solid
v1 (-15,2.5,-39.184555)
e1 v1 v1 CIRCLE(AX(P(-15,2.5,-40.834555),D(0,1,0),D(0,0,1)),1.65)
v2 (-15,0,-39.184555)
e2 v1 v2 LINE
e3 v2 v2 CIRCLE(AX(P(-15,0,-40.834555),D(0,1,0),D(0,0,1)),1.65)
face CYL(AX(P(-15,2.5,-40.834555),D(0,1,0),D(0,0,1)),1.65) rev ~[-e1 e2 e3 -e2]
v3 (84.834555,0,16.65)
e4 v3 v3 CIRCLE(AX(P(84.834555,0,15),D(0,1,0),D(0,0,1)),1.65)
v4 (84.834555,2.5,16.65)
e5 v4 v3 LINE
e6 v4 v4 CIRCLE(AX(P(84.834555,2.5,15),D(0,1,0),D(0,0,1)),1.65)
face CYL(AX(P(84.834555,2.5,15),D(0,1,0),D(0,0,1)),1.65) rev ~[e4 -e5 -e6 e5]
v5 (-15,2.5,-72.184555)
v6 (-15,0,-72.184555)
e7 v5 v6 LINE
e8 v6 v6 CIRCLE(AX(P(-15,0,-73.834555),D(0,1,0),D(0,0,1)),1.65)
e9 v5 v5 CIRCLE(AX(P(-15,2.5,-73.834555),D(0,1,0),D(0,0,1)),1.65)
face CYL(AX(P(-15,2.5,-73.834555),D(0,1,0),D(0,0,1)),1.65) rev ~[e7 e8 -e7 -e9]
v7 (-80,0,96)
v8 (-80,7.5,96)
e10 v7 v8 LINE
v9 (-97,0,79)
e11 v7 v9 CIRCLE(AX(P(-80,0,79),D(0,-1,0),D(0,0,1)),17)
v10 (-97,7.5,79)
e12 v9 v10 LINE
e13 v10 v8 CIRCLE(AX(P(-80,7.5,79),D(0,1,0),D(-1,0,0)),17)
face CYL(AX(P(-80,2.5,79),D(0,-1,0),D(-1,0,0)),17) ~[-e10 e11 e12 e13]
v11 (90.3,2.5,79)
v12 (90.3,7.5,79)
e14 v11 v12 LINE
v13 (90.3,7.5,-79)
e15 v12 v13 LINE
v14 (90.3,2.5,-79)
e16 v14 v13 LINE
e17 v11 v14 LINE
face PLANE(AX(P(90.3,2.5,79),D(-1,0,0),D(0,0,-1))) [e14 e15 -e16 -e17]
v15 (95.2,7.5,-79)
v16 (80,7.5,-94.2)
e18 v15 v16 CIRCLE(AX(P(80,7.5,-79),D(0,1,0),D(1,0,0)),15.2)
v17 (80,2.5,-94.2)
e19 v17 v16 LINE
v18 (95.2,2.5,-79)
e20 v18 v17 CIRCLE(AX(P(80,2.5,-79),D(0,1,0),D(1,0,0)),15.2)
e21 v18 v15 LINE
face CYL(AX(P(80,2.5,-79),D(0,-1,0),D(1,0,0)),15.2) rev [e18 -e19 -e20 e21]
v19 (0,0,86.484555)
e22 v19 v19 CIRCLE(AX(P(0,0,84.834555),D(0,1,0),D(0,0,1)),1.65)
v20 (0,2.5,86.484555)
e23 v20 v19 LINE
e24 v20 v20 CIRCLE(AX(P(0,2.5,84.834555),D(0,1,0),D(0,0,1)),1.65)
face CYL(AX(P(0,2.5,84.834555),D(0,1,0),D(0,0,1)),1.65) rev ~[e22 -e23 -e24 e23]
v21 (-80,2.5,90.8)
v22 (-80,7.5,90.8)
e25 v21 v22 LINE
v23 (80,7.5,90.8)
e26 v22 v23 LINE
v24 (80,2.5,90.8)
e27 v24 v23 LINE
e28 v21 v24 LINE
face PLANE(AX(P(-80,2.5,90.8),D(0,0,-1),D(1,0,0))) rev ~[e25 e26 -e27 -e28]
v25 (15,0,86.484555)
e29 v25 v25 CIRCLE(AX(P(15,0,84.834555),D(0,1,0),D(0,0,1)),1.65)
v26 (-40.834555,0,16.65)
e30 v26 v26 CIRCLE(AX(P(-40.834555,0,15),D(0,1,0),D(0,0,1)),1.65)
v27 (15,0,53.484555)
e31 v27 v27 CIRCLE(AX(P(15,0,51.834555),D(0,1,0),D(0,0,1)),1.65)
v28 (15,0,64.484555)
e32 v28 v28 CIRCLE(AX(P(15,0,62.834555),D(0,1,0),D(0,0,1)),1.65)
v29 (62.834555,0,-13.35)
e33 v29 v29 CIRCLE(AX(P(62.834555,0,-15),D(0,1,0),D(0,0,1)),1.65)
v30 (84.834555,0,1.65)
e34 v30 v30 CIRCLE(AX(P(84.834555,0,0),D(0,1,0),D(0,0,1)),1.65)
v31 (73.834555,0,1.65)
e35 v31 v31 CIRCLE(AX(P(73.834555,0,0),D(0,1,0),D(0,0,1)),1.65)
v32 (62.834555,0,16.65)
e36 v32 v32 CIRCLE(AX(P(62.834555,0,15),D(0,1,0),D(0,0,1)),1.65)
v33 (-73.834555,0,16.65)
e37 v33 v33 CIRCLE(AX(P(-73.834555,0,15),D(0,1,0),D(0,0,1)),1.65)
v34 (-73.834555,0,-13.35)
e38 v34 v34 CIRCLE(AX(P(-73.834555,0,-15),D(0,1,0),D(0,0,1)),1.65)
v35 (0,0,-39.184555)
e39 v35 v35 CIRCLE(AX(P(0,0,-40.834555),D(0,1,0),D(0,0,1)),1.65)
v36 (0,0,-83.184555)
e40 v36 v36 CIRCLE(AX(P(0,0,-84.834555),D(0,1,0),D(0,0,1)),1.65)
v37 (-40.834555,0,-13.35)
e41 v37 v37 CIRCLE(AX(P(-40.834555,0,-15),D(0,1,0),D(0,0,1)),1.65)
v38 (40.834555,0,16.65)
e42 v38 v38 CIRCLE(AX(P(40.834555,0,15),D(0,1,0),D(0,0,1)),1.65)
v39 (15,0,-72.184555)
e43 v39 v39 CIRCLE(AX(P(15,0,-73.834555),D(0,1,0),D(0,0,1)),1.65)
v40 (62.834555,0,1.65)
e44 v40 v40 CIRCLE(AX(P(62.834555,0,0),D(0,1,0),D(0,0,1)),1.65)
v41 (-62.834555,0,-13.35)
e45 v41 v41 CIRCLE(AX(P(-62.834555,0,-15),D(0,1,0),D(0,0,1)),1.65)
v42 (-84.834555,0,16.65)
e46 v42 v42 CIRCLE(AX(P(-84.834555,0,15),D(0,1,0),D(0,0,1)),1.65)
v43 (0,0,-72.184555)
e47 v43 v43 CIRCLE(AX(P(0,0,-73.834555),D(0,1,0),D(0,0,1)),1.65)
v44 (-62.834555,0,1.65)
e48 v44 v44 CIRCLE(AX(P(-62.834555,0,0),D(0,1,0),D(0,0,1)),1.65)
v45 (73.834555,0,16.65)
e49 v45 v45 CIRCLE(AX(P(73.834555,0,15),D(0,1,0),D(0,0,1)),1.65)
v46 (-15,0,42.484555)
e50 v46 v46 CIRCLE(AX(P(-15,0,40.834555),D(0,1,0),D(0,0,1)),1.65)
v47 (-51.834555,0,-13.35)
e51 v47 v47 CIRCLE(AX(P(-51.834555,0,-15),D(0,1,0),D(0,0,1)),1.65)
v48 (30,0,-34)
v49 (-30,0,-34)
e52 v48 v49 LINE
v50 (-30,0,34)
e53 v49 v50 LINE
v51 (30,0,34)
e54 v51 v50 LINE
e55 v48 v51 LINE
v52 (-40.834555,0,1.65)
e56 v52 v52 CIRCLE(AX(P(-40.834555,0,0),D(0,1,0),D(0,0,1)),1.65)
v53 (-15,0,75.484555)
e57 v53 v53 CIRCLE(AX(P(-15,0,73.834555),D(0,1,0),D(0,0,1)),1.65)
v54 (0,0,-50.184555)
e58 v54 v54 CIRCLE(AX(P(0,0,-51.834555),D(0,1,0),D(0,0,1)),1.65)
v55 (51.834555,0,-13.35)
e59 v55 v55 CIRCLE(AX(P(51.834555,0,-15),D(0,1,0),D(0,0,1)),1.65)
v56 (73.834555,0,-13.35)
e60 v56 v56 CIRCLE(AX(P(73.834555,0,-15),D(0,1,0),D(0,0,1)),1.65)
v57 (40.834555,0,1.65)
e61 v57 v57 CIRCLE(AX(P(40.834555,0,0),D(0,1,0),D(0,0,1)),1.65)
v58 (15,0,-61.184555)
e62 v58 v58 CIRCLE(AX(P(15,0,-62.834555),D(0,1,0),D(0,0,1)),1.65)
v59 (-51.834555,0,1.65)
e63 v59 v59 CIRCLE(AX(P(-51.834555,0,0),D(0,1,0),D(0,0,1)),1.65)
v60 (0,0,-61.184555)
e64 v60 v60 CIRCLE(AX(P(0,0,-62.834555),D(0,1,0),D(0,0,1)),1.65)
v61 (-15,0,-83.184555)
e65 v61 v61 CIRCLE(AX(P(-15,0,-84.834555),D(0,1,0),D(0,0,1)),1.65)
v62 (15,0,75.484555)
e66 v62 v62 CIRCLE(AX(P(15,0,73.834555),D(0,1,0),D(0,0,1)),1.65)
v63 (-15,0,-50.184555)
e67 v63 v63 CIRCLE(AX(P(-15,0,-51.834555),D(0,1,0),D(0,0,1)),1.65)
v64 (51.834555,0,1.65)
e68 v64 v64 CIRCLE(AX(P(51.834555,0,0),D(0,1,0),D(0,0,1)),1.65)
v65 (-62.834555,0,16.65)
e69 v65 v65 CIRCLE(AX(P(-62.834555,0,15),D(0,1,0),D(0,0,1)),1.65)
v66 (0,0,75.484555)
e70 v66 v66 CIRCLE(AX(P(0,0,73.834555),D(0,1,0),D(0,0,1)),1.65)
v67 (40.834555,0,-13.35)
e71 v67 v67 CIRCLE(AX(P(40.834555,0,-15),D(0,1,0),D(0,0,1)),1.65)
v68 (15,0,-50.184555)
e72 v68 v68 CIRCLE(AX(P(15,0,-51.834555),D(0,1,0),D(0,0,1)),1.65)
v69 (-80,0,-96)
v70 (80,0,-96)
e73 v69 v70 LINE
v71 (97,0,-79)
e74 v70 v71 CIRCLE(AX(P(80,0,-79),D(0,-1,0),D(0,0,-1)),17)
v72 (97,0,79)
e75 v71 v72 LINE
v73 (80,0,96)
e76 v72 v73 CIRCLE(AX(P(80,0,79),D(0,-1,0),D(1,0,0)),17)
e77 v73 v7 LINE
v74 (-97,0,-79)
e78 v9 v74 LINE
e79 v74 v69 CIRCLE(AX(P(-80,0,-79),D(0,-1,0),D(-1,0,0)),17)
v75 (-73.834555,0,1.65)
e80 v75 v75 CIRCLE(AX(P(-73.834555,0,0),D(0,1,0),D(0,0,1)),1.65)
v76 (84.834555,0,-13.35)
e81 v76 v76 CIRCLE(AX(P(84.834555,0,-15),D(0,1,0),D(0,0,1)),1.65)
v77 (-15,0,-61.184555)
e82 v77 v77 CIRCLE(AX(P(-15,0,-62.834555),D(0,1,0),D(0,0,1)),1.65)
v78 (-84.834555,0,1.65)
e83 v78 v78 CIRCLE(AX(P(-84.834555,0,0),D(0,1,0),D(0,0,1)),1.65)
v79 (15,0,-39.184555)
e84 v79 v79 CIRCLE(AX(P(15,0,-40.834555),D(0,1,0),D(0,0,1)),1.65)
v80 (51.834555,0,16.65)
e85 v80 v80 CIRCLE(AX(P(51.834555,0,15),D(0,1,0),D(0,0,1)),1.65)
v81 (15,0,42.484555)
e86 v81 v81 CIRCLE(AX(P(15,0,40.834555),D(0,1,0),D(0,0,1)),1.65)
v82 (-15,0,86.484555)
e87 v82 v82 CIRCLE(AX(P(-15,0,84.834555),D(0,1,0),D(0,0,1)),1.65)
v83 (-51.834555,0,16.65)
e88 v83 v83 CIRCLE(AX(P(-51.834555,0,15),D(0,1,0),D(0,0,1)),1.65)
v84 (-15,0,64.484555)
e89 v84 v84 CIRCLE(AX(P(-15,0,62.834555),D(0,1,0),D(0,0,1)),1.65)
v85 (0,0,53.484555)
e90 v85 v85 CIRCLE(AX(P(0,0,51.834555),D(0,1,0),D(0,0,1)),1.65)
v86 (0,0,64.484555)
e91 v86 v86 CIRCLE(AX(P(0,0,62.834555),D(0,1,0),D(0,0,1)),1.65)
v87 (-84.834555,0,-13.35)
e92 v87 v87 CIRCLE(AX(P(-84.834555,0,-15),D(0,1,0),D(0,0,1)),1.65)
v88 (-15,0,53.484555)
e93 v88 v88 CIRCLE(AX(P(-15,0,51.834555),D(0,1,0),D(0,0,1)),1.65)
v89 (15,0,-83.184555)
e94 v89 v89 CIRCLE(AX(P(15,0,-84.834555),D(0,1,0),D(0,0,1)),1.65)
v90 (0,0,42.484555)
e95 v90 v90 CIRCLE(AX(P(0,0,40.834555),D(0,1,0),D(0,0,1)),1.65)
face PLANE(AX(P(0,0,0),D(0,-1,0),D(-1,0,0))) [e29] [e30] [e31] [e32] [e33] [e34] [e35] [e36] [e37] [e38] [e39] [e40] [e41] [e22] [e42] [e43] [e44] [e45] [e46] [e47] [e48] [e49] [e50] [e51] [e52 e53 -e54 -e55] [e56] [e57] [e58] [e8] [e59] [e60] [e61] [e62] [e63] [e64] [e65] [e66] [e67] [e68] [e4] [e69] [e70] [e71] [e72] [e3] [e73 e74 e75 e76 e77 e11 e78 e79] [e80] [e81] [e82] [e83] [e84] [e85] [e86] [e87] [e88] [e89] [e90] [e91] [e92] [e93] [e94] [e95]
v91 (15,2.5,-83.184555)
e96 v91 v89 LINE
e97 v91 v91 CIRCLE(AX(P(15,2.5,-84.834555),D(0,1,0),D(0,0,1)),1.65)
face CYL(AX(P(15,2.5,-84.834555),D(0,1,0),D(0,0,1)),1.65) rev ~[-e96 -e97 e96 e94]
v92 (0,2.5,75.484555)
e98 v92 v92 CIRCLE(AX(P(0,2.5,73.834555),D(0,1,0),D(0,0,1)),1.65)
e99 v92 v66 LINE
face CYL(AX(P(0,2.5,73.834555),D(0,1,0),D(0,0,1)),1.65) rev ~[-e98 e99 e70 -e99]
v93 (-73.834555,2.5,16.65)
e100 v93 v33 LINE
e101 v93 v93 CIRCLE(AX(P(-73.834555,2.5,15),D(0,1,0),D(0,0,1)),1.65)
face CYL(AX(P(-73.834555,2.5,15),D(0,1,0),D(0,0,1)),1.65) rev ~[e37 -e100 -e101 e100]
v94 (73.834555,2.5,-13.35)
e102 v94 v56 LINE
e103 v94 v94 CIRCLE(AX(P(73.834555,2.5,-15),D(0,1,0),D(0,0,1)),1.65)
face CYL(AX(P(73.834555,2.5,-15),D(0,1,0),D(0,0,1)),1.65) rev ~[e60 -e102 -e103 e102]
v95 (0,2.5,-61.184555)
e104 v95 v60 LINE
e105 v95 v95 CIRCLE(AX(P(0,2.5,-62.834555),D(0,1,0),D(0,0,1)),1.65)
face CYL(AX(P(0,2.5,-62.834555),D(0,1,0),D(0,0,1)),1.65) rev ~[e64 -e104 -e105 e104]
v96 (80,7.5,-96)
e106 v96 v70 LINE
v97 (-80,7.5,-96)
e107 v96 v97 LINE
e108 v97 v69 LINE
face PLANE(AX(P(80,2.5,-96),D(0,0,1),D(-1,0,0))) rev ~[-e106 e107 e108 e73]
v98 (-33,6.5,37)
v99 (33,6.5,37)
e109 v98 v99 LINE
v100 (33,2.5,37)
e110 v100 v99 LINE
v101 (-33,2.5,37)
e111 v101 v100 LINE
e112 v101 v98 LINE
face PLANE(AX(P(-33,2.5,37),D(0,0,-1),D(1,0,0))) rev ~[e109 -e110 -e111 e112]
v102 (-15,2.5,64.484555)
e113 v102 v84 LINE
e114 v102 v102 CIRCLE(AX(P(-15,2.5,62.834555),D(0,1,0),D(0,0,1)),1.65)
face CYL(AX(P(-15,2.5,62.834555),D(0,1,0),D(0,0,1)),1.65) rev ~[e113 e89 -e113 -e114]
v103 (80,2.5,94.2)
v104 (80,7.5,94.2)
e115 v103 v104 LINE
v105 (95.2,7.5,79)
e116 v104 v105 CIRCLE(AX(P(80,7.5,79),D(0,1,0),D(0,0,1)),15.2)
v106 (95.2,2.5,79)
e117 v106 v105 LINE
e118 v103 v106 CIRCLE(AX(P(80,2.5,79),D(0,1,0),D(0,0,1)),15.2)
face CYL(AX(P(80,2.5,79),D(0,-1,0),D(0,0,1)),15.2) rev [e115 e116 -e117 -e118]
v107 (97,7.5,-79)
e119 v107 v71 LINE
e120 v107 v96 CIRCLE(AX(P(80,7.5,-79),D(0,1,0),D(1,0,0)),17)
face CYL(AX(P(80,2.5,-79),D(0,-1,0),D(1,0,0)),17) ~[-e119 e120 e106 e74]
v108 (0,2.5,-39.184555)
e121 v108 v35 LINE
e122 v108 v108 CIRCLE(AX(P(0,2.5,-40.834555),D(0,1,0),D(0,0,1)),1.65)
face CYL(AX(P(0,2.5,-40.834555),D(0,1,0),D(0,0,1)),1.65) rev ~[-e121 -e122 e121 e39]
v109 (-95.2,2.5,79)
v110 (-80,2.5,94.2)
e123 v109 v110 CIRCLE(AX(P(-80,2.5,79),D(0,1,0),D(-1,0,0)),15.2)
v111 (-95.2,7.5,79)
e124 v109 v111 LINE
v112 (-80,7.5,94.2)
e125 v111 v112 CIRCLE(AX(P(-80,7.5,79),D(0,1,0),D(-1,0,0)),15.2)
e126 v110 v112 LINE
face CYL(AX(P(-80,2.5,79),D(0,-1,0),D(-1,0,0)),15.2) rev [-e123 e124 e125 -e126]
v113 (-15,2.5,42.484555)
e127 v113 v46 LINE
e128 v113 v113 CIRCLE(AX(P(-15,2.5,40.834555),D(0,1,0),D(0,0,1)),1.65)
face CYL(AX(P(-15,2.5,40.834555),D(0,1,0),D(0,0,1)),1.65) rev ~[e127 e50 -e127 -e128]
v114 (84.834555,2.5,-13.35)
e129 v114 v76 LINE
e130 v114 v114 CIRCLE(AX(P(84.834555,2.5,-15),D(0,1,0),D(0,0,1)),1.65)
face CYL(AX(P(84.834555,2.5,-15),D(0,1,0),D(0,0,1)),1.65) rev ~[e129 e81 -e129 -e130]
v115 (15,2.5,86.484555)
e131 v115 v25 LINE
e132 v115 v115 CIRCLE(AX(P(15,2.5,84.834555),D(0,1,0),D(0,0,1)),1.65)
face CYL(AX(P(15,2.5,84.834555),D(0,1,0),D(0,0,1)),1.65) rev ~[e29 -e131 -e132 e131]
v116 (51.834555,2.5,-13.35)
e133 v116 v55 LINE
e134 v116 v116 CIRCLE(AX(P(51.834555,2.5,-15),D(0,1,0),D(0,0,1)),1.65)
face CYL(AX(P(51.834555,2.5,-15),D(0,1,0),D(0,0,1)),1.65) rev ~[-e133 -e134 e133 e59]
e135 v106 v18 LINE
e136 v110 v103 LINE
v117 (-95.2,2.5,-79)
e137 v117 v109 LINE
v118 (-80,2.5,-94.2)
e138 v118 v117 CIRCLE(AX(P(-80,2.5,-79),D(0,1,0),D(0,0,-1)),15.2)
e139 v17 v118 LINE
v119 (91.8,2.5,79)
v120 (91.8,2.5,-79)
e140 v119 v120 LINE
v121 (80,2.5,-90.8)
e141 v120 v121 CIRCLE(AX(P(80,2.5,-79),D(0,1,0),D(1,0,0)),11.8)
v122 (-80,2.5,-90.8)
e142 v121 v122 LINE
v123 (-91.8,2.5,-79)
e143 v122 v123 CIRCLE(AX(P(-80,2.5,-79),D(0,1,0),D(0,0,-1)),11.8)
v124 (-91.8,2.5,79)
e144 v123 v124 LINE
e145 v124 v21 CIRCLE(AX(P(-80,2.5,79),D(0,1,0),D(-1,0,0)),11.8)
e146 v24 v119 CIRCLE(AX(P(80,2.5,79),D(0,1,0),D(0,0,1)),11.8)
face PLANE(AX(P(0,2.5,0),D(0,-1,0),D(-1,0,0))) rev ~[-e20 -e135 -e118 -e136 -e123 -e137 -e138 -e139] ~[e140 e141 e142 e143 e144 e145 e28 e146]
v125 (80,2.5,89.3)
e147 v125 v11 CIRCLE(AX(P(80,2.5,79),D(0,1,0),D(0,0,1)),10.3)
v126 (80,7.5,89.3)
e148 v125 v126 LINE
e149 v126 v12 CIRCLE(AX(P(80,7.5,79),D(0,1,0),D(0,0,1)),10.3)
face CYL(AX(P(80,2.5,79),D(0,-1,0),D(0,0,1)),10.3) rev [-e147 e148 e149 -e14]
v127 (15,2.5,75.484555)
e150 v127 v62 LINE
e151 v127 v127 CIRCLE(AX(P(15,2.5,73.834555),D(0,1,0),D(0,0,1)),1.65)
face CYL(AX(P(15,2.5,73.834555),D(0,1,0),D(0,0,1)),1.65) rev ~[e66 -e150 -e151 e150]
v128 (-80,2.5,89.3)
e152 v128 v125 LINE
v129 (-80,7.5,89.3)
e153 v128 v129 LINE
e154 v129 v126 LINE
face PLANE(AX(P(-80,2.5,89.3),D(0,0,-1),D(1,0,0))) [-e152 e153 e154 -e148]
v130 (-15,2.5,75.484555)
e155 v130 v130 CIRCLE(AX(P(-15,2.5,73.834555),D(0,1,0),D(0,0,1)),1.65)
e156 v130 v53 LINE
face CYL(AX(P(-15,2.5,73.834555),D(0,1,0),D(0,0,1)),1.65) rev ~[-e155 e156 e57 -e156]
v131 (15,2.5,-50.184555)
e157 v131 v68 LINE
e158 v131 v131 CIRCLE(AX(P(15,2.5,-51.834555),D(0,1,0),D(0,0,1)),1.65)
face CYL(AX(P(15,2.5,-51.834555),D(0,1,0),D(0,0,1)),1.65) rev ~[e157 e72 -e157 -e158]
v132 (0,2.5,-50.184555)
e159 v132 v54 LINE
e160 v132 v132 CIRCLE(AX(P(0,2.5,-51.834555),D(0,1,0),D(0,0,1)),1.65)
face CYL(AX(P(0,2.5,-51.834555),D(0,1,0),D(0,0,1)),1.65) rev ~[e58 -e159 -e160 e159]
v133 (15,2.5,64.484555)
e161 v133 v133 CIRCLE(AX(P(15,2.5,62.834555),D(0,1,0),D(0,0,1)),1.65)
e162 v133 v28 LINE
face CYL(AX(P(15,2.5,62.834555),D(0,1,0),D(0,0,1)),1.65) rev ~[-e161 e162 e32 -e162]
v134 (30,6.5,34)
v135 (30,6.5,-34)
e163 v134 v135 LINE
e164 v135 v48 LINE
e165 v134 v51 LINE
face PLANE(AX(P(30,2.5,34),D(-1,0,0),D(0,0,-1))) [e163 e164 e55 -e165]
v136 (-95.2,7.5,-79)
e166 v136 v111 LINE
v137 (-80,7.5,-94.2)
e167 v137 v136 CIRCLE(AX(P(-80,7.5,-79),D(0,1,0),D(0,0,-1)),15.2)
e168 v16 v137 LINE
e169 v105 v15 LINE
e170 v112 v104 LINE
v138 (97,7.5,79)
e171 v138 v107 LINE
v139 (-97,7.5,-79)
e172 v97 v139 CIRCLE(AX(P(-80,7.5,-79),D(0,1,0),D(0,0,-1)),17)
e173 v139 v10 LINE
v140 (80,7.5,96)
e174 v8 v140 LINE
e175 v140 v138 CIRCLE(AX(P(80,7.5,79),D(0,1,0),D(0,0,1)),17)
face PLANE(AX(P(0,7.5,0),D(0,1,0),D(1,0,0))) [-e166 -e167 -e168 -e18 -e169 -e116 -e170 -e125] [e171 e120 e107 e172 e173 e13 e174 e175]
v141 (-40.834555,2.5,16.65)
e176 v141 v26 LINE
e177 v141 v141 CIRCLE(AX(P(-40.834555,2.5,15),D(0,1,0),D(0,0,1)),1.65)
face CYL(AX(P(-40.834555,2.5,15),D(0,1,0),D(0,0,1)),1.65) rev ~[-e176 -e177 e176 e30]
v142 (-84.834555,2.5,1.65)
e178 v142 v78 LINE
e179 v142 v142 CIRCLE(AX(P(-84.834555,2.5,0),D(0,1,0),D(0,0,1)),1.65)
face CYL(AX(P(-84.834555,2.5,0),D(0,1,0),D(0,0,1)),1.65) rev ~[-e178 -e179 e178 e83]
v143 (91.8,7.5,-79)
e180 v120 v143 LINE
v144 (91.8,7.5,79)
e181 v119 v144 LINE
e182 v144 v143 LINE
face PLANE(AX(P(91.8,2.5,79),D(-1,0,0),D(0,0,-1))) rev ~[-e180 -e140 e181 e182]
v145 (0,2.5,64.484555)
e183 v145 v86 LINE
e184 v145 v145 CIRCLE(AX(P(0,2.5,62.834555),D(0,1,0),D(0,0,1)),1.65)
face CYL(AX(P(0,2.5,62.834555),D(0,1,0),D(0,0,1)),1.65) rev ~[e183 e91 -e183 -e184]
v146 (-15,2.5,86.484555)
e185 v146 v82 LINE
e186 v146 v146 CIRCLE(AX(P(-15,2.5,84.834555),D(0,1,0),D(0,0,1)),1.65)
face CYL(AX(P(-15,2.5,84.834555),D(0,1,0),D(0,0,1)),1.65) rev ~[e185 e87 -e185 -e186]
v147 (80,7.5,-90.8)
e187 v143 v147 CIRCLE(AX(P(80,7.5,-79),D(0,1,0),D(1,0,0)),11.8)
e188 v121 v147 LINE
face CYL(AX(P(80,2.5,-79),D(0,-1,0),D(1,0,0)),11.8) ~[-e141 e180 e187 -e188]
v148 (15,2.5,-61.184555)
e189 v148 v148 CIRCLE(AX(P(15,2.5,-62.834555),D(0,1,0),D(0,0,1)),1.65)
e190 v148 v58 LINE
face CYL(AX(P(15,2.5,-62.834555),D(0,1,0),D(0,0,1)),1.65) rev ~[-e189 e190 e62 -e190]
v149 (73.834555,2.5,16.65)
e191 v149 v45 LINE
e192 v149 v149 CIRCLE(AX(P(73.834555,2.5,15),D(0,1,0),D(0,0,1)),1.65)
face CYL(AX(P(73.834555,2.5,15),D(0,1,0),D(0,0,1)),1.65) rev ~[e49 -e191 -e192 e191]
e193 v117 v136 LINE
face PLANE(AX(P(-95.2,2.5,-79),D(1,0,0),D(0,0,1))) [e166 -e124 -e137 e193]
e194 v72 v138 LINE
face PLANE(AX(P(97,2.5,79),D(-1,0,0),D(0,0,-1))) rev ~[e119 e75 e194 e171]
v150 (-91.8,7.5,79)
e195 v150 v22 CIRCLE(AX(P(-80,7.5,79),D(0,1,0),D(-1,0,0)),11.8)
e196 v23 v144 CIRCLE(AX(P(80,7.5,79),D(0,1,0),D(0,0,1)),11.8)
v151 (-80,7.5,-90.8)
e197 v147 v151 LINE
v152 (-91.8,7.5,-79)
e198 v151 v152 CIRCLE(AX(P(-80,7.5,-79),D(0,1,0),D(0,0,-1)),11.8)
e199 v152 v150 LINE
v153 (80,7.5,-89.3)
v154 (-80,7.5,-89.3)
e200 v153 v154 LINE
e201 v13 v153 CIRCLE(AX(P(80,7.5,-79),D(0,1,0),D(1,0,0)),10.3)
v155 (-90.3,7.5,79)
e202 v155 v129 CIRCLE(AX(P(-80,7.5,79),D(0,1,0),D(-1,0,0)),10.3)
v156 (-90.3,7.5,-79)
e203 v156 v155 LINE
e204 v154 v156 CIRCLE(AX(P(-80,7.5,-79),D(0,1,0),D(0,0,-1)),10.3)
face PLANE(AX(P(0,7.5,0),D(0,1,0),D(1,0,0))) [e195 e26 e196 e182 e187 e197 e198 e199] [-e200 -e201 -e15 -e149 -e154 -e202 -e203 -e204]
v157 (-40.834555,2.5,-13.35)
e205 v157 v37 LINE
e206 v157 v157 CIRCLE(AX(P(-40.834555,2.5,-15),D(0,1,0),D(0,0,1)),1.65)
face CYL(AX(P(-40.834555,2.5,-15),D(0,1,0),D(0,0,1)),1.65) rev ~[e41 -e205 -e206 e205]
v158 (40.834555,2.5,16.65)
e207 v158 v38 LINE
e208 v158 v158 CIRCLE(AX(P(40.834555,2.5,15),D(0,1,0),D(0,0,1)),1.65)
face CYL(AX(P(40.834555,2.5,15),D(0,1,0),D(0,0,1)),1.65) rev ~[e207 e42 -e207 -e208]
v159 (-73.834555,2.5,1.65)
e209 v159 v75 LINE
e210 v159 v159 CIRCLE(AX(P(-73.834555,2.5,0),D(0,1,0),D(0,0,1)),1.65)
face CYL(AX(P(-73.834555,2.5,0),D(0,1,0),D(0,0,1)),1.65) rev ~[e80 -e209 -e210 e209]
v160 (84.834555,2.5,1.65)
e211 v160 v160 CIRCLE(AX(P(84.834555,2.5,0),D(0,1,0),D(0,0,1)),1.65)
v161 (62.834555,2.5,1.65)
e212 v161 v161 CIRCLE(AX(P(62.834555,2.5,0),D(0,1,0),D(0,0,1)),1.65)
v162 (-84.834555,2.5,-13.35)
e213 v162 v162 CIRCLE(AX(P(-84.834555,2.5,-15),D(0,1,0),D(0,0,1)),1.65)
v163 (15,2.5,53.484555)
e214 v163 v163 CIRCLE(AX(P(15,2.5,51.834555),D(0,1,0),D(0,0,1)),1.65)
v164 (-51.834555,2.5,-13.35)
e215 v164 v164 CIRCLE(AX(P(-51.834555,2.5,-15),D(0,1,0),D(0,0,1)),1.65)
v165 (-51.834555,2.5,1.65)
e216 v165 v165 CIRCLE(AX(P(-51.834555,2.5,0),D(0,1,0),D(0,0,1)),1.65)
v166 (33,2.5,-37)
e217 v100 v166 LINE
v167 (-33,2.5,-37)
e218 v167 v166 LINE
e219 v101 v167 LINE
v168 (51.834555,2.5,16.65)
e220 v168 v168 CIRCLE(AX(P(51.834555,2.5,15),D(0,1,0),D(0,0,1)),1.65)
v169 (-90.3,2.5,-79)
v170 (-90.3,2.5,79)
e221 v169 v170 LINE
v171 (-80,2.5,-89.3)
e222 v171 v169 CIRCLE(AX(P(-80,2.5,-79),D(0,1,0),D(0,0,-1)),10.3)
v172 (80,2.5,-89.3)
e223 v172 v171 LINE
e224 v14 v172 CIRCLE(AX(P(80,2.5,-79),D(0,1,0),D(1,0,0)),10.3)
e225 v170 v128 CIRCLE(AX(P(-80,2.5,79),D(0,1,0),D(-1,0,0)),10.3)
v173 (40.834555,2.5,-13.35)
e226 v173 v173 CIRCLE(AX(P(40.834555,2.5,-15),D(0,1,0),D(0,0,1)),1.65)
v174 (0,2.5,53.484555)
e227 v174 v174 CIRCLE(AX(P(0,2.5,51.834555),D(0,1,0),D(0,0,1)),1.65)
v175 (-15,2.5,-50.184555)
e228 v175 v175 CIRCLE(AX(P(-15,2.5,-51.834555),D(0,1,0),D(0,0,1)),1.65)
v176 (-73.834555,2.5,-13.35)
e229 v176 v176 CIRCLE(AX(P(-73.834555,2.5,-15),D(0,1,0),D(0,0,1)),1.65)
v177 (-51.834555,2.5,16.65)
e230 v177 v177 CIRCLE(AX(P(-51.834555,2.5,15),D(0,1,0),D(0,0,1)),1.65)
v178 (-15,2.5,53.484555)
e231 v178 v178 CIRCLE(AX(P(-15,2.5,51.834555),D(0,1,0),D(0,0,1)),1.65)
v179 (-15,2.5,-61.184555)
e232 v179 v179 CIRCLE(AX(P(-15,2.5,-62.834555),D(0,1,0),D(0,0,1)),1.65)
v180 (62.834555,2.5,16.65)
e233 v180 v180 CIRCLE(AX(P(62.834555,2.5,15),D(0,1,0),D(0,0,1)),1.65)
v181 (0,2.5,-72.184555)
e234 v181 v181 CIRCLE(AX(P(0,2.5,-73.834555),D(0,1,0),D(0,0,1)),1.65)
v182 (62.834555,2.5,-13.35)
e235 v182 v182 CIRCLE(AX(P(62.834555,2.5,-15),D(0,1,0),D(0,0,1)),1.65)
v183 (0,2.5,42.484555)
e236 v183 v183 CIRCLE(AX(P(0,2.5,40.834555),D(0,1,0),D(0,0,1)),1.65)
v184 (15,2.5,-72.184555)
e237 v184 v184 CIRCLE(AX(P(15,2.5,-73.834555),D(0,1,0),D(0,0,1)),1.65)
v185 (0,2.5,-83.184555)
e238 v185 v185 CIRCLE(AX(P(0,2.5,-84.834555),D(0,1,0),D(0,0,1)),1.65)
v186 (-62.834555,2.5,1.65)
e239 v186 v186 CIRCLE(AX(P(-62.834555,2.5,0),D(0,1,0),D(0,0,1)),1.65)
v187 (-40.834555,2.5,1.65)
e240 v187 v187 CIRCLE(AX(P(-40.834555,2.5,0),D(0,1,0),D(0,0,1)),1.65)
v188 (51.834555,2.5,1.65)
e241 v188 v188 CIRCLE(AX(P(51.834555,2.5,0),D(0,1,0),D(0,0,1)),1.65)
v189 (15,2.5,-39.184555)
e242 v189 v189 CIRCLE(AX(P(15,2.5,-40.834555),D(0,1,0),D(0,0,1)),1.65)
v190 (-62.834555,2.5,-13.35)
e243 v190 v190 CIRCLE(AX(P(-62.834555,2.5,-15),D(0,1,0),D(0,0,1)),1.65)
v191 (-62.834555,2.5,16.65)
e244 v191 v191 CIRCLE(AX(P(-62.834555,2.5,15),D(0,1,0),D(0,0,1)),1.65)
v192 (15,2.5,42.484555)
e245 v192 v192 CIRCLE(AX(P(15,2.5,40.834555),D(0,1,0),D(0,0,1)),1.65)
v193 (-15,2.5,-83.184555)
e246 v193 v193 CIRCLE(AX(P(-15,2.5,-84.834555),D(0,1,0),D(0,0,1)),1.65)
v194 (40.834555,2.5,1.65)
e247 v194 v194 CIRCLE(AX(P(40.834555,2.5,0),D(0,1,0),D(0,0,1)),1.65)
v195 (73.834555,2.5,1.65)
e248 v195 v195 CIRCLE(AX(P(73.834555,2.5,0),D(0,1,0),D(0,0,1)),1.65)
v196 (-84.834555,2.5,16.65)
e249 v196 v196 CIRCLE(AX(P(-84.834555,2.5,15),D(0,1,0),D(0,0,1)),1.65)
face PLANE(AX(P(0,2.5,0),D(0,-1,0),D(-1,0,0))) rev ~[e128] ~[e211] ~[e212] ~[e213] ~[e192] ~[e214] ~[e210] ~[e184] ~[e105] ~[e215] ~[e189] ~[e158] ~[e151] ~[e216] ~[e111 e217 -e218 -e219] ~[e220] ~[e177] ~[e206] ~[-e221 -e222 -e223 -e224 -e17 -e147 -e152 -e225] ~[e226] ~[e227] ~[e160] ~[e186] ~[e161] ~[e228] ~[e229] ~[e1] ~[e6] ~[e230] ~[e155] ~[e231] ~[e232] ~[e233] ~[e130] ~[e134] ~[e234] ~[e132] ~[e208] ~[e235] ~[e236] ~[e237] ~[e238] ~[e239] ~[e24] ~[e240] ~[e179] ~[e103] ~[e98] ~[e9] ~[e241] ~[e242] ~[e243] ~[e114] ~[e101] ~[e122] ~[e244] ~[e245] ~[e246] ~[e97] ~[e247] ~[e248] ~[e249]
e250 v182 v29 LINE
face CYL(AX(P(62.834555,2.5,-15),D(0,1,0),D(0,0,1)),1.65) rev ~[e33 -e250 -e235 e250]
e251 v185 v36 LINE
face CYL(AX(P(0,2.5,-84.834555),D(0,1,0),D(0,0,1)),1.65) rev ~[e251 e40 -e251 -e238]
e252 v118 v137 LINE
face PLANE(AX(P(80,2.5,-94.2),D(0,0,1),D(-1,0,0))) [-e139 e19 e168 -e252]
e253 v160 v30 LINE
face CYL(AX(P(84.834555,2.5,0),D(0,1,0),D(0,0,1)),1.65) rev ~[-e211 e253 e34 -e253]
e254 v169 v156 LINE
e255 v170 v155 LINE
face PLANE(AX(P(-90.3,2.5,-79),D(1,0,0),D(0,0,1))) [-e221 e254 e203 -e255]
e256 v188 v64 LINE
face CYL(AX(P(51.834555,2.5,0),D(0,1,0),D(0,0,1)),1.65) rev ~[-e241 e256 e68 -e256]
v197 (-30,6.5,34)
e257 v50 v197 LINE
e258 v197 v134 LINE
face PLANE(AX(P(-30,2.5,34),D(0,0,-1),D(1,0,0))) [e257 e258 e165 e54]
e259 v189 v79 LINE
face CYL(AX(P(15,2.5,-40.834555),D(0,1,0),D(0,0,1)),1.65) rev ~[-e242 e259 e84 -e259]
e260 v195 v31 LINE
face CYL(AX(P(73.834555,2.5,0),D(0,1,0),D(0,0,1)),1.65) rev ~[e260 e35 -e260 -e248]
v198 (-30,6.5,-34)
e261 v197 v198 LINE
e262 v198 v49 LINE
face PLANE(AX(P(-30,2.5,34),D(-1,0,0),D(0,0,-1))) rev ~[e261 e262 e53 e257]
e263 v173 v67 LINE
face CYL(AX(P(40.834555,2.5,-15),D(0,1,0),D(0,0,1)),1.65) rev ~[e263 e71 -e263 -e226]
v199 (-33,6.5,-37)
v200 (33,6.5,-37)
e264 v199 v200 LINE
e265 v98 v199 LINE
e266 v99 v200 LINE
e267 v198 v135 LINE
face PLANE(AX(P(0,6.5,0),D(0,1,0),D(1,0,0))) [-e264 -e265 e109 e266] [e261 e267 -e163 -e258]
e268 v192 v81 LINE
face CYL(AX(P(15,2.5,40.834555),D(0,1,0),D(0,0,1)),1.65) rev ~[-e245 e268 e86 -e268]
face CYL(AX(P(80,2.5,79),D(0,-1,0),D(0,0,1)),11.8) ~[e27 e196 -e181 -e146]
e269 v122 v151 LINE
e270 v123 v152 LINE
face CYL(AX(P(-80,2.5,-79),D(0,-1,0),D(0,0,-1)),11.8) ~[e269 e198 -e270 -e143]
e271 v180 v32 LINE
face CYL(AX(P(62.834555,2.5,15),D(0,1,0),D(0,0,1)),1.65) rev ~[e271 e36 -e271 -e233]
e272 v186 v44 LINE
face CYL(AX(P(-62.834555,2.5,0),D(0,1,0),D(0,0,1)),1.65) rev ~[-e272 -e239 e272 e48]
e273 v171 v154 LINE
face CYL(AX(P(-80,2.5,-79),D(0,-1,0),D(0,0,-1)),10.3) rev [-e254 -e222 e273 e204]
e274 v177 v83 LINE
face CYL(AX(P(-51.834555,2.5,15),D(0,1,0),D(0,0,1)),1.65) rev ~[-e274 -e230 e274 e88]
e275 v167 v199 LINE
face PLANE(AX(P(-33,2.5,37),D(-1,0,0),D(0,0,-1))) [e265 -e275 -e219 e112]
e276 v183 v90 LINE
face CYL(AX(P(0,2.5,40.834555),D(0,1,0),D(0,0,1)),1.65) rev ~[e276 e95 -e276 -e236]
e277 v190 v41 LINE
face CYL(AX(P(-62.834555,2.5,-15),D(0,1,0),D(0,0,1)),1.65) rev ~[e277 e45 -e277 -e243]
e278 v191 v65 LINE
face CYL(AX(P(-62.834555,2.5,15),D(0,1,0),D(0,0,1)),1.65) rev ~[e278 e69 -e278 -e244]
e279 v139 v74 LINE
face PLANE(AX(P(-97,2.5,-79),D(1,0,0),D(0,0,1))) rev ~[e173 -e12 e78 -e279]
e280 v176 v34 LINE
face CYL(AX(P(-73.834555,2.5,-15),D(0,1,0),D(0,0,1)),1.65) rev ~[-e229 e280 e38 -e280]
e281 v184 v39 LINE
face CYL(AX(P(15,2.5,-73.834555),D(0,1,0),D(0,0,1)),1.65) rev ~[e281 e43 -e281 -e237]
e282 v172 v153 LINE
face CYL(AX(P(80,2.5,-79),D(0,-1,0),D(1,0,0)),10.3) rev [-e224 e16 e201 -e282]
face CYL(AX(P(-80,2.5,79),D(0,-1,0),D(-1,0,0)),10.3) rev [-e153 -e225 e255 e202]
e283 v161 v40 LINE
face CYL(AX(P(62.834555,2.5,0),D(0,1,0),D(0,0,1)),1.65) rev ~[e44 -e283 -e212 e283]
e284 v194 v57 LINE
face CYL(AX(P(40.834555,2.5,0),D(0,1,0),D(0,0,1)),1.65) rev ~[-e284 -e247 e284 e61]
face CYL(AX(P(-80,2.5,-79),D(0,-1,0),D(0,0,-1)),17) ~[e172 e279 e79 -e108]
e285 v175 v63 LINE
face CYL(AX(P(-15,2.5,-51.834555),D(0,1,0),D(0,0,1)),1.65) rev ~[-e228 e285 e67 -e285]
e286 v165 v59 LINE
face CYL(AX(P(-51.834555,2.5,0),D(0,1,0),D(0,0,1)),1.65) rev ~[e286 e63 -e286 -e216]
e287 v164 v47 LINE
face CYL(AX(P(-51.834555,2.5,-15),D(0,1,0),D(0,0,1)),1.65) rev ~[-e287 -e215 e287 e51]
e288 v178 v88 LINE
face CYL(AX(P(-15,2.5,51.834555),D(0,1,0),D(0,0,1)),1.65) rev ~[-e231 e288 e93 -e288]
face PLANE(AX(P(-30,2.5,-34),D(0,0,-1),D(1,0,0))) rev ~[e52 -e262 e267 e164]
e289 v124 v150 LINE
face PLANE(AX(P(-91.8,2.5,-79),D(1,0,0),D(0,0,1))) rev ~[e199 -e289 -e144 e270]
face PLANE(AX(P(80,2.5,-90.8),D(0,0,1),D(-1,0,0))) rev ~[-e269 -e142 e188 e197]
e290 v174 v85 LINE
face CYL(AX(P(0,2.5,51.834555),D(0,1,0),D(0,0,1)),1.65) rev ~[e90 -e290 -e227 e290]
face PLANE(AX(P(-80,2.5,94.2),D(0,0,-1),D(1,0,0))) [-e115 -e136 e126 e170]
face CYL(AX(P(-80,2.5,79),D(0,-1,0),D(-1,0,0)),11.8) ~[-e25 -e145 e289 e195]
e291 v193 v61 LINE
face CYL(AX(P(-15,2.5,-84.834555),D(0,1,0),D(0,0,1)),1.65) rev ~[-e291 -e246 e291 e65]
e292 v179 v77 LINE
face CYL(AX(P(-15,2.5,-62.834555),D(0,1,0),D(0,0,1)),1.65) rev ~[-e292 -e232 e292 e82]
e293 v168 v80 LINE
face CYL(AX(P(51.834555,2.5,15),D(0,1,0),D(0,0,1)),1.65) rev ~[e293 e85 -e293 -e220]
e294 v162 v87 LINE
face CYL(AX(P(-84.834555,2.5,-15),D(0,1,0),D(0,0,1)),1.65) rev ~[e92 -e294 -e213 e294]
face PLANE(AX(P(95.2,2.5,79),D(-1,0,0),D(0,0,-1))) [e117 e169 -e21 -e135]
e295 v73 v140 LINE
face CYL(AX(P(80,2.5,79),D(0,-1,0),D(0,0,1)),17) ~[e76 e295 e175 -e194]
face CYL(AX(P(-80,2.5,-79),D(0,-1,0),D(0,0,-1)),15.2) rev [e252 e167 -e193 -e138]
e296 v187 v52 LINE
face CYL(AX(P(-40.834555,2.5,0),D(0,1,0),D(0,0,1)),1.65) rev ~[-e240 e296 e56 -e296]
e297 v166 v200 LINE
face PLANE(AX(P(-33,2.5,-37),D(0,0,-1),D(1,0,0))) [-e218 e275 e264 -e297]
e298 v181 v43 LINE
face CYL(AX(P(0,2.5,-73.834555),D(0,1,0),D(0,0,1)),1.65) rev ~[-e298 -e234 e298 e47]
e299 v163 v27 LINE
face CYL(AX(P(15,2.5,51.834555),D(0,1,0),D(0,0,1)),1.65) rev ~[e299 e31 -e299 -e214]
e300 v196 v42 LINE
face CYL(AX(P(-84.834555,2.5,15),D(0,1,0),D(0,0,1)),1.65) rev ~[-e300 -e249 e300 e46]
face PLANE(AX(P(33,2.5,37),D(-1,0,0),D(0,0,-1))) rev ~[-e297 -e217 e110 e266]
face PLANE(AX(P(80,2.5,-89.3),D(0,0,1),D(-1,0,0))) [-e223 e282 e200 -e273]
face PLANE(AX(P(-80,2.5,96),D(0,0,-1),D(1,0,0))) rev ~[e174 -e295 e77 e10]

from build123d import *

# Parameters (mm, degrees)
BOSS_EXTRUDE1_DEPTH = 2.5
BOSS_EXTRUDE2_DEPTH = 5
SKETCH4_W           = 60
SKETCH4_H           = 68
CUT_EXTRUDE1_DEPTH  = 5
SKETCH6_W           = 66
SKETCH6_H           = 74
SKETCH6_W_2         = 60
SKETCH6_H_2         = 68
BOSS_EXTRUDE3_DEPTH = 4
SKETCH7_R           = 1.65
CUT_EXTRUDE3_DEPTH  = 2.5


with BuildPart() as part:
    # Sketch1 → Boss-Extrude1 (new body)
    # profile 1 of 2: a face of its own
    with BuildSketch(Plane(origin=(0, 0, 0), x_dir=(1, 0, 0), z_dir=(0, 1, 0))):
        with BuildLine():
            ThreePointArc((-80, -96), (-92.02081528, -91.02081528), (-97, -79))
            Line((-97, -79), (-97, 79))
            ThreePointArc((-97, 79), (-92.02081528, 91.02081528), (-80, 96))
            Line((-80, 96), (80, 96))
            ThreePointArc((80, 96), (92.02081528, 91.02081528), (97, 79))
            Line((97, 79), (97, -79))
            ThreePointArc((97, -79), (92.02081528, -91.02081528), (80, -96))
            Line((80, -96), (-80, -96))
        make_face()
        with BuildLine():
            Line((-95, -79), (-95, 79))
            ThreePointArc((-95, 79), (-90.606601718, 89.606601718), (-80, 94))
            Line((-80, 94), (80, 94))
            ThreePointArc((80, 94), (90.606601718, 89.606601718), (95, 79))
            Line((95, 79), (95, -79))
            ThreePointArc((95, -79), (90.606601718, -89.606601718), (80, -94))
            Line((80, -94), (-80, -94))
            ThreePointArc((-80, -94), (-90.606601718, -89.606601718), (-95, -79))
        make_face(mode=Mode.SUBTRACT)
    # profile 2 of 2: a face of its own
    with BuildSketch(Plane(origin=(0, 0, 0), x_dir=(1, 0, 0), z_dir=(0, 1, 0))):
        with BuildLine():
            ThreePointArc((-95, 79), (-90.606601718, 89.606601718), (-80, 94))
            Line((-80, 94), (80, 94))
            ThreePointArc((80, 94), (90.606601718, 89.606601718), (95, 79))
            Line((95, 79), (95, -79))
            ThreePointArc((95, -79), (90.606601718, -89.606601718), (80, -94))
            Line((80, -94), (-80, -94))
            ThreePointArc((-80, -94), (-90.606601718, -89.606601718), (-95, -79))
            Line((-95, -79), (-95, 79))
        make_face()
    extrude(amount=BOSS_EXTRUDE1_DEPTH)

    # Sketch3 → Boss-Extrude2 (add)
    # profile 1 of 2: a face of its own
    with BuildSketch(Plane(origin=(0, 2.5, 0), x_dir=(1, 0, 0), z_dir=(0, 1, 0))):
        with BuildLine():
            Line((-97, 79), (-97, -79))
            ThreePointArc((-97, -79), (-92.02081528, -91.02081528), (-80, -96))
            Line((-80, -96), (80, -96))
            ThreePointArc((80, -96), (92.02081528, -91.02081528), (97, -79))
            Line((97, -79), (97, 79))
            ThreePointArc((97, 79), (92.02081528, 91.02081528), (80, 96))
            Line((80, 96), (-80, 96))
            ThreePointArc((-80, 96), (-92.02081528, 91.02081528), (-97, 79))
        make_face()
        with BuildLine():
            ThreePointArc((-95.2, -79), (-90.748023074, -89.748023074), (-80, -94.2))
            Line((-80, -94.2), (80, -94.2))
            ThreePointArc((80, -94.2), (90.748023074, -89.748023074), (95.2, -79))
            Line((95.2, -79), (95.2, 79))
            ThreePointArc((95.2, 79), (90.748023074, 89.748023074), (80, 94.2))
            Line((80, 94.2), (-80, 94.2))
            ThreePointArc((-80, 94.2), (-90.748023074, 89.748023074), (-95.2, 79))
            Line((-95.2, 79), (-95.2, -79))
        make_face(mode=Mode.SUBTRACT)
    # profile 2 of 2: a face of its own
    with BuildSketch(Plane(origin=(0, 2.5, 0), x_dir=(1, 0, 0), z_dir=(0, 1, 0))):
        with BuildLine():
            Line((-91.8, 79), (-91.8, -79))
            ThreePointArc((-91.8, -79), (-88.343860018, -87.343860018), (-80, -90.8))
            Line((-80, -90.8), (80, -90.8))
            ThreePointArc((80, -90.8), (88.343860018, -87.343860018), (91.8, -79))
            Line((91.8, -79), (91.8, 79))
            ThreePointArc((91.8, 79), (88.343860018, 87.343860018), (80, 90.8))
            Line((80, 90.8), (-80, 90.8))
            ThreePointArc((-80, 90.8), (-88.343860018, 87.343860018), (-91.8, 79))
        make_face()
        with BuildLine():
            ThreePointArc((-80, 89.3), (-87.283199846, 86.283199846), (-90.3, 79))
            Line((-90.3, 79), (-90.3, -79))
            ThreePointArc((-90.3, -79), (-87.283199846, -86.283199846), (-80, -89.3))
            Line((-80, -89.3), (80, -89.3))
            ThreePointArc((80, -89.3), (87.283199846, -86.283199846), (90.3, -79))
            Line((90.3, -79), (90.3, 79))
            ThreePointArc((90.3, 79), (87.283199846, 86.283199846), (80, 89.3))
            Line((80, 89.3), (-80, 89.3))
        make_face(mode=Mode.SUBTRACT)
    extrude(amount=BOSS_EXTRUDE2_DEPTH)

    # Sketch4 → Cut-Extrude1 (cut)
    with BuildSketch(Plane(origin=(0, 2.5, 0), x_dir=(1, 0, 0), z_dir=(0, 1, 0))):
        Rectangle(SKETCH4_W, SKETCH4_H)
    extrude(amount=-CUT_EXTRUDE1_DEPTH, mode=Mode.SUBTRACT)

    # Sketch6 → Boss-Extrude3 (add)
    with BuildSketch(Plane(origin=(0, 2.5, 0), x_dir=(1, 0, 0), z_dir=(0, 1, 0))):
        Rectangle(SKETCH6_W, SKETCH6_H)
        Rectangle(SKETCH6_W_2, SKETCH6_H_2, mode=Mode.SUBTRACT)
    extrude(amount=BOSS_EXTRUDE3_DEPTH)

    # Sketch7 → Cut-Extrude3 (cut)
    with BuildSketch(Plane(origin=(0, 2.5, 0), x_dir=(1, 0, 0), z_dir=(0, 1, 0))):
        with Locations(Location((-84.834554705, 15, 0), (0, 0, 270))):
            Circle(SKETCH7_R)
        with Locations(Location((-73.834554705, 15, 0), (0, 0, 270))):
            Circle(SKETCH7_R)
        with Locations(Location((-62.834554705, 15, 0), (0, 0, 270))):
            Circle(SKETCH7_R)
        with Locations(Location((-51.834554705, 15, 0), (0, 0, 270))):
            Circle(SKETCH7_R)
        with Locations(Location((-40.834554705, 15, 0), (0, 0, 270))):
            Circle(SKETCH7_R)
        with Locations(Location((-40.834554705, 0, 0), (0, 0, 270))):
            Circle(SKETCH7_R)
        with Locations(Location((-51.834554705, 0, 0), (0, 0, 270))):
            Circle(SKETCH7_R)
        with Locations(Location((-62.834554705, 0, 0), (0, 0, 270))):
            Circle(SKETCH7_R)
        with Locations(Location((-73.834554705, 0, 0), (0, 0, 270))):
            Circle(SKETCH7_R)
        with Locations(Location((-84.834554705, 0, 0), (0, 0, 270))):
            Circle(SKETCH7_R)
        with Locations(Location((-84.834554705, -15, 0), (0, 0, 270))):
            Circle(SKETCH7_R)
        with Locations(Location((-73.834554705, -15, 0), (0, 0, 270))):
            Circle(SKETCH7_R)
        with Locations(Location((-62.834554705, -15, 0), (0, 0, 270))):
            Circle(SKETCH7_R)
        with Locations(Location((-51.834554705, -15, 0), (0, 0, 270))):
            Circle(SKETCH7_R)
        with Locations(Location((-40.834554705, -15, 0), (0, 0, 270))):
            Circle(SKETCH7_R)
        with Locations(Location((15, 84.834554705, 0), (0, 0, 270))):
            Circle(SKETCH7_R)
        with Locations(Location((15, 73.834554705, 0), (0, 0, 270))):
            Circle(SKETCH7_R)
        with Locations(Location((15, 62.834554705, 0), (0, 0, 270))):
            Circle(SKETCH7_R)
        with Locations(Location((15, 51.834554705, 0), (0, 0, 270))):
            Circle(SKETCH7_R)
        with Locations(Location((15, 40.834554705, 0), (0, 0, 270))):
            Circle(SKETCH7_R)
        with Locations(Location((0, 40.834554705, 0), (0, 0, 270))):
            Circle(SKETCH7_R)
        with Locations(Location((0, 51.834554705, 0), (0, 0, 270))):
            Circle(SKETCH7_R)
        with Locations(Location((0, 62.834554705, 0), (0, 0, 270))):
            Circle(SKETCH7_R)
        with Locations(Location((0, 73.834554705, 0), (0, 0, 270))):
            Circle(SKETCH7_R)
        with Locations(Location((0, 84.834554705, 0), (0, 0, 270))):
            Circle(SKETCH7_R)
        with Locations(Location((-15, 84.834554705, 0), (0, 0, 270))):
            Circle(SKETCH7_R)
        with Locations(Location((-15, 73.834554705, 0), (0, 0, 270))):
            Circle(SKETCH7_R)
        with Locations(Location((-15, 62.834554705, 0), (0, 0, 270))):
            Circle(SKETCH7_R)
        with Locations(Location((-15, 51.834554705, 0), (0, 0, 270))):
            Circle(SKETCH7_R)
        with Locations(Location((-15, 40.834554705, 0), (0, 0, 270))):
            Circle(SKETCH7_R)
        with Locations(Location((84.834554705, -15, 0), (0, 0, 270))):
            Circle(SKETCH7_R)
        with Locations(Location((73.834554705, -15, 0), (0, 0, 270))):
            Circle(SKETCH7_R)
        with Locations(Location((62.834554705, -15, 0), (0, 0, 270))):
            Circle(SKETCH7_R)
        with Locations(Location((51.834554705, -15, 0), (0, 0, 270))):
            Circle(SKETCH7_R)
        with Locations(Location((40.834554705, -15, 0), (0, 0, 270))):
            Circle(SKETCH7_R)
        with Locations(Location((40.834554705, 0, 0), (0, 0, 270))):
            Circle(SKETCH7_R)
        with Locations(Location((51.834554705, 0, 0), (0, 0, 270))):
            Circle(SKETCH7_R)
        with Locations(Location((62.834554705, 0, 0), (0, 0, 270))):
            Circle(SKETCH7_R)
        with Locations(Location((73.834554705, 0, 0), (0, 0, 270))):
            Circle(SKETCH7_R)
        with Locations(Location((84.834554705, 0, 0), (0, 0, 270))):
            Circle(SKETCH7_R)
        with Locations(Location((84.834554705, 15, 0), (0, 0, 270))):
            Circle(SKETCH7_R)
        with Locations(Location((73.834554705, 15, 0), (0, 0, 270))):
            Circle(SKETCH7_R)
        with Locations(Location((62.834554705, 15, 0), (0, 0, 270))):
            Circle(SKETCH7_R)
        with Locations(Location((51.834554705, 15, 0), (0, 0, 270))):
            Circle(SKETCH7_R)
        with Locations(Location((40.834554705, 15, 0), (0, 0, 270))):
            Circle(SKETCH7_R)
        with Locations(Location((-15, -84.834554705, 0), (0, 0, 270))):
            Circle(SKETCH7_R)
        with Locations(Location((-15, -73.834554705, 0), (0, 0, 270))):
            Circle(SKETCH7_R)
        with Locations(Location((-15, -62.834554705, 0), (0, 0, 270))):
            Circle(SKETCH7_R)
        with Locations(Location((-15, -51.834554705, 0), (0, 0, 270))):
            Circle(SKETCH7_R)
        with Locations(Location((-15, -40.834554705, 0), (0, 0, 270))):
            Circle(SKETCH7_R)
        with Locations(Location((0, -40.834554705, 0), (0, 0, 270))):
            Circle(SKETCH7_R)
        with Locations(Location((0, -51.834554705, 0), (0, 0, 270))):
            Circle(SKETCH7_R)
        with Locations(Location((0, -62.834554705, 0), (0, 0, 270))):
            Circle(SKETCH7_R)
        with Locations(Location((0, -73.834554705, 0), (0, 0, 270))):
            Circle(SKETCH7_R)
        with Locations(Location((0, -84.834554705, 0), (0, 0, 270))):
            Circle(SKETCH7_R)
        with Locations(Location((15, -84.834554705, 0), (0, 0, 270))):
            Circle(SKETCH7_R)
        with Locations(Location((15, -73.834554705, 0), (0, 0, 270))):
            Circle(SKETCH7_R)
        with Locations(Location((15, -62.834554705, 0), (0, 0, 270))):
            Circle(SKETCH7_R)
        with Locations(Location((15, -51.834554705, 0), (0, 0, 270))):
            Circle(SKETCH7_R)
        with Locations(Location((15, -40.834554705, 0), (0, 0, 270))):
            Circle(SKETCH7_R)
    extrude(amount=-CUT_EXTRUDE3_DEPTH, mode=Mode.SUBTRACT)


solid = part.part
